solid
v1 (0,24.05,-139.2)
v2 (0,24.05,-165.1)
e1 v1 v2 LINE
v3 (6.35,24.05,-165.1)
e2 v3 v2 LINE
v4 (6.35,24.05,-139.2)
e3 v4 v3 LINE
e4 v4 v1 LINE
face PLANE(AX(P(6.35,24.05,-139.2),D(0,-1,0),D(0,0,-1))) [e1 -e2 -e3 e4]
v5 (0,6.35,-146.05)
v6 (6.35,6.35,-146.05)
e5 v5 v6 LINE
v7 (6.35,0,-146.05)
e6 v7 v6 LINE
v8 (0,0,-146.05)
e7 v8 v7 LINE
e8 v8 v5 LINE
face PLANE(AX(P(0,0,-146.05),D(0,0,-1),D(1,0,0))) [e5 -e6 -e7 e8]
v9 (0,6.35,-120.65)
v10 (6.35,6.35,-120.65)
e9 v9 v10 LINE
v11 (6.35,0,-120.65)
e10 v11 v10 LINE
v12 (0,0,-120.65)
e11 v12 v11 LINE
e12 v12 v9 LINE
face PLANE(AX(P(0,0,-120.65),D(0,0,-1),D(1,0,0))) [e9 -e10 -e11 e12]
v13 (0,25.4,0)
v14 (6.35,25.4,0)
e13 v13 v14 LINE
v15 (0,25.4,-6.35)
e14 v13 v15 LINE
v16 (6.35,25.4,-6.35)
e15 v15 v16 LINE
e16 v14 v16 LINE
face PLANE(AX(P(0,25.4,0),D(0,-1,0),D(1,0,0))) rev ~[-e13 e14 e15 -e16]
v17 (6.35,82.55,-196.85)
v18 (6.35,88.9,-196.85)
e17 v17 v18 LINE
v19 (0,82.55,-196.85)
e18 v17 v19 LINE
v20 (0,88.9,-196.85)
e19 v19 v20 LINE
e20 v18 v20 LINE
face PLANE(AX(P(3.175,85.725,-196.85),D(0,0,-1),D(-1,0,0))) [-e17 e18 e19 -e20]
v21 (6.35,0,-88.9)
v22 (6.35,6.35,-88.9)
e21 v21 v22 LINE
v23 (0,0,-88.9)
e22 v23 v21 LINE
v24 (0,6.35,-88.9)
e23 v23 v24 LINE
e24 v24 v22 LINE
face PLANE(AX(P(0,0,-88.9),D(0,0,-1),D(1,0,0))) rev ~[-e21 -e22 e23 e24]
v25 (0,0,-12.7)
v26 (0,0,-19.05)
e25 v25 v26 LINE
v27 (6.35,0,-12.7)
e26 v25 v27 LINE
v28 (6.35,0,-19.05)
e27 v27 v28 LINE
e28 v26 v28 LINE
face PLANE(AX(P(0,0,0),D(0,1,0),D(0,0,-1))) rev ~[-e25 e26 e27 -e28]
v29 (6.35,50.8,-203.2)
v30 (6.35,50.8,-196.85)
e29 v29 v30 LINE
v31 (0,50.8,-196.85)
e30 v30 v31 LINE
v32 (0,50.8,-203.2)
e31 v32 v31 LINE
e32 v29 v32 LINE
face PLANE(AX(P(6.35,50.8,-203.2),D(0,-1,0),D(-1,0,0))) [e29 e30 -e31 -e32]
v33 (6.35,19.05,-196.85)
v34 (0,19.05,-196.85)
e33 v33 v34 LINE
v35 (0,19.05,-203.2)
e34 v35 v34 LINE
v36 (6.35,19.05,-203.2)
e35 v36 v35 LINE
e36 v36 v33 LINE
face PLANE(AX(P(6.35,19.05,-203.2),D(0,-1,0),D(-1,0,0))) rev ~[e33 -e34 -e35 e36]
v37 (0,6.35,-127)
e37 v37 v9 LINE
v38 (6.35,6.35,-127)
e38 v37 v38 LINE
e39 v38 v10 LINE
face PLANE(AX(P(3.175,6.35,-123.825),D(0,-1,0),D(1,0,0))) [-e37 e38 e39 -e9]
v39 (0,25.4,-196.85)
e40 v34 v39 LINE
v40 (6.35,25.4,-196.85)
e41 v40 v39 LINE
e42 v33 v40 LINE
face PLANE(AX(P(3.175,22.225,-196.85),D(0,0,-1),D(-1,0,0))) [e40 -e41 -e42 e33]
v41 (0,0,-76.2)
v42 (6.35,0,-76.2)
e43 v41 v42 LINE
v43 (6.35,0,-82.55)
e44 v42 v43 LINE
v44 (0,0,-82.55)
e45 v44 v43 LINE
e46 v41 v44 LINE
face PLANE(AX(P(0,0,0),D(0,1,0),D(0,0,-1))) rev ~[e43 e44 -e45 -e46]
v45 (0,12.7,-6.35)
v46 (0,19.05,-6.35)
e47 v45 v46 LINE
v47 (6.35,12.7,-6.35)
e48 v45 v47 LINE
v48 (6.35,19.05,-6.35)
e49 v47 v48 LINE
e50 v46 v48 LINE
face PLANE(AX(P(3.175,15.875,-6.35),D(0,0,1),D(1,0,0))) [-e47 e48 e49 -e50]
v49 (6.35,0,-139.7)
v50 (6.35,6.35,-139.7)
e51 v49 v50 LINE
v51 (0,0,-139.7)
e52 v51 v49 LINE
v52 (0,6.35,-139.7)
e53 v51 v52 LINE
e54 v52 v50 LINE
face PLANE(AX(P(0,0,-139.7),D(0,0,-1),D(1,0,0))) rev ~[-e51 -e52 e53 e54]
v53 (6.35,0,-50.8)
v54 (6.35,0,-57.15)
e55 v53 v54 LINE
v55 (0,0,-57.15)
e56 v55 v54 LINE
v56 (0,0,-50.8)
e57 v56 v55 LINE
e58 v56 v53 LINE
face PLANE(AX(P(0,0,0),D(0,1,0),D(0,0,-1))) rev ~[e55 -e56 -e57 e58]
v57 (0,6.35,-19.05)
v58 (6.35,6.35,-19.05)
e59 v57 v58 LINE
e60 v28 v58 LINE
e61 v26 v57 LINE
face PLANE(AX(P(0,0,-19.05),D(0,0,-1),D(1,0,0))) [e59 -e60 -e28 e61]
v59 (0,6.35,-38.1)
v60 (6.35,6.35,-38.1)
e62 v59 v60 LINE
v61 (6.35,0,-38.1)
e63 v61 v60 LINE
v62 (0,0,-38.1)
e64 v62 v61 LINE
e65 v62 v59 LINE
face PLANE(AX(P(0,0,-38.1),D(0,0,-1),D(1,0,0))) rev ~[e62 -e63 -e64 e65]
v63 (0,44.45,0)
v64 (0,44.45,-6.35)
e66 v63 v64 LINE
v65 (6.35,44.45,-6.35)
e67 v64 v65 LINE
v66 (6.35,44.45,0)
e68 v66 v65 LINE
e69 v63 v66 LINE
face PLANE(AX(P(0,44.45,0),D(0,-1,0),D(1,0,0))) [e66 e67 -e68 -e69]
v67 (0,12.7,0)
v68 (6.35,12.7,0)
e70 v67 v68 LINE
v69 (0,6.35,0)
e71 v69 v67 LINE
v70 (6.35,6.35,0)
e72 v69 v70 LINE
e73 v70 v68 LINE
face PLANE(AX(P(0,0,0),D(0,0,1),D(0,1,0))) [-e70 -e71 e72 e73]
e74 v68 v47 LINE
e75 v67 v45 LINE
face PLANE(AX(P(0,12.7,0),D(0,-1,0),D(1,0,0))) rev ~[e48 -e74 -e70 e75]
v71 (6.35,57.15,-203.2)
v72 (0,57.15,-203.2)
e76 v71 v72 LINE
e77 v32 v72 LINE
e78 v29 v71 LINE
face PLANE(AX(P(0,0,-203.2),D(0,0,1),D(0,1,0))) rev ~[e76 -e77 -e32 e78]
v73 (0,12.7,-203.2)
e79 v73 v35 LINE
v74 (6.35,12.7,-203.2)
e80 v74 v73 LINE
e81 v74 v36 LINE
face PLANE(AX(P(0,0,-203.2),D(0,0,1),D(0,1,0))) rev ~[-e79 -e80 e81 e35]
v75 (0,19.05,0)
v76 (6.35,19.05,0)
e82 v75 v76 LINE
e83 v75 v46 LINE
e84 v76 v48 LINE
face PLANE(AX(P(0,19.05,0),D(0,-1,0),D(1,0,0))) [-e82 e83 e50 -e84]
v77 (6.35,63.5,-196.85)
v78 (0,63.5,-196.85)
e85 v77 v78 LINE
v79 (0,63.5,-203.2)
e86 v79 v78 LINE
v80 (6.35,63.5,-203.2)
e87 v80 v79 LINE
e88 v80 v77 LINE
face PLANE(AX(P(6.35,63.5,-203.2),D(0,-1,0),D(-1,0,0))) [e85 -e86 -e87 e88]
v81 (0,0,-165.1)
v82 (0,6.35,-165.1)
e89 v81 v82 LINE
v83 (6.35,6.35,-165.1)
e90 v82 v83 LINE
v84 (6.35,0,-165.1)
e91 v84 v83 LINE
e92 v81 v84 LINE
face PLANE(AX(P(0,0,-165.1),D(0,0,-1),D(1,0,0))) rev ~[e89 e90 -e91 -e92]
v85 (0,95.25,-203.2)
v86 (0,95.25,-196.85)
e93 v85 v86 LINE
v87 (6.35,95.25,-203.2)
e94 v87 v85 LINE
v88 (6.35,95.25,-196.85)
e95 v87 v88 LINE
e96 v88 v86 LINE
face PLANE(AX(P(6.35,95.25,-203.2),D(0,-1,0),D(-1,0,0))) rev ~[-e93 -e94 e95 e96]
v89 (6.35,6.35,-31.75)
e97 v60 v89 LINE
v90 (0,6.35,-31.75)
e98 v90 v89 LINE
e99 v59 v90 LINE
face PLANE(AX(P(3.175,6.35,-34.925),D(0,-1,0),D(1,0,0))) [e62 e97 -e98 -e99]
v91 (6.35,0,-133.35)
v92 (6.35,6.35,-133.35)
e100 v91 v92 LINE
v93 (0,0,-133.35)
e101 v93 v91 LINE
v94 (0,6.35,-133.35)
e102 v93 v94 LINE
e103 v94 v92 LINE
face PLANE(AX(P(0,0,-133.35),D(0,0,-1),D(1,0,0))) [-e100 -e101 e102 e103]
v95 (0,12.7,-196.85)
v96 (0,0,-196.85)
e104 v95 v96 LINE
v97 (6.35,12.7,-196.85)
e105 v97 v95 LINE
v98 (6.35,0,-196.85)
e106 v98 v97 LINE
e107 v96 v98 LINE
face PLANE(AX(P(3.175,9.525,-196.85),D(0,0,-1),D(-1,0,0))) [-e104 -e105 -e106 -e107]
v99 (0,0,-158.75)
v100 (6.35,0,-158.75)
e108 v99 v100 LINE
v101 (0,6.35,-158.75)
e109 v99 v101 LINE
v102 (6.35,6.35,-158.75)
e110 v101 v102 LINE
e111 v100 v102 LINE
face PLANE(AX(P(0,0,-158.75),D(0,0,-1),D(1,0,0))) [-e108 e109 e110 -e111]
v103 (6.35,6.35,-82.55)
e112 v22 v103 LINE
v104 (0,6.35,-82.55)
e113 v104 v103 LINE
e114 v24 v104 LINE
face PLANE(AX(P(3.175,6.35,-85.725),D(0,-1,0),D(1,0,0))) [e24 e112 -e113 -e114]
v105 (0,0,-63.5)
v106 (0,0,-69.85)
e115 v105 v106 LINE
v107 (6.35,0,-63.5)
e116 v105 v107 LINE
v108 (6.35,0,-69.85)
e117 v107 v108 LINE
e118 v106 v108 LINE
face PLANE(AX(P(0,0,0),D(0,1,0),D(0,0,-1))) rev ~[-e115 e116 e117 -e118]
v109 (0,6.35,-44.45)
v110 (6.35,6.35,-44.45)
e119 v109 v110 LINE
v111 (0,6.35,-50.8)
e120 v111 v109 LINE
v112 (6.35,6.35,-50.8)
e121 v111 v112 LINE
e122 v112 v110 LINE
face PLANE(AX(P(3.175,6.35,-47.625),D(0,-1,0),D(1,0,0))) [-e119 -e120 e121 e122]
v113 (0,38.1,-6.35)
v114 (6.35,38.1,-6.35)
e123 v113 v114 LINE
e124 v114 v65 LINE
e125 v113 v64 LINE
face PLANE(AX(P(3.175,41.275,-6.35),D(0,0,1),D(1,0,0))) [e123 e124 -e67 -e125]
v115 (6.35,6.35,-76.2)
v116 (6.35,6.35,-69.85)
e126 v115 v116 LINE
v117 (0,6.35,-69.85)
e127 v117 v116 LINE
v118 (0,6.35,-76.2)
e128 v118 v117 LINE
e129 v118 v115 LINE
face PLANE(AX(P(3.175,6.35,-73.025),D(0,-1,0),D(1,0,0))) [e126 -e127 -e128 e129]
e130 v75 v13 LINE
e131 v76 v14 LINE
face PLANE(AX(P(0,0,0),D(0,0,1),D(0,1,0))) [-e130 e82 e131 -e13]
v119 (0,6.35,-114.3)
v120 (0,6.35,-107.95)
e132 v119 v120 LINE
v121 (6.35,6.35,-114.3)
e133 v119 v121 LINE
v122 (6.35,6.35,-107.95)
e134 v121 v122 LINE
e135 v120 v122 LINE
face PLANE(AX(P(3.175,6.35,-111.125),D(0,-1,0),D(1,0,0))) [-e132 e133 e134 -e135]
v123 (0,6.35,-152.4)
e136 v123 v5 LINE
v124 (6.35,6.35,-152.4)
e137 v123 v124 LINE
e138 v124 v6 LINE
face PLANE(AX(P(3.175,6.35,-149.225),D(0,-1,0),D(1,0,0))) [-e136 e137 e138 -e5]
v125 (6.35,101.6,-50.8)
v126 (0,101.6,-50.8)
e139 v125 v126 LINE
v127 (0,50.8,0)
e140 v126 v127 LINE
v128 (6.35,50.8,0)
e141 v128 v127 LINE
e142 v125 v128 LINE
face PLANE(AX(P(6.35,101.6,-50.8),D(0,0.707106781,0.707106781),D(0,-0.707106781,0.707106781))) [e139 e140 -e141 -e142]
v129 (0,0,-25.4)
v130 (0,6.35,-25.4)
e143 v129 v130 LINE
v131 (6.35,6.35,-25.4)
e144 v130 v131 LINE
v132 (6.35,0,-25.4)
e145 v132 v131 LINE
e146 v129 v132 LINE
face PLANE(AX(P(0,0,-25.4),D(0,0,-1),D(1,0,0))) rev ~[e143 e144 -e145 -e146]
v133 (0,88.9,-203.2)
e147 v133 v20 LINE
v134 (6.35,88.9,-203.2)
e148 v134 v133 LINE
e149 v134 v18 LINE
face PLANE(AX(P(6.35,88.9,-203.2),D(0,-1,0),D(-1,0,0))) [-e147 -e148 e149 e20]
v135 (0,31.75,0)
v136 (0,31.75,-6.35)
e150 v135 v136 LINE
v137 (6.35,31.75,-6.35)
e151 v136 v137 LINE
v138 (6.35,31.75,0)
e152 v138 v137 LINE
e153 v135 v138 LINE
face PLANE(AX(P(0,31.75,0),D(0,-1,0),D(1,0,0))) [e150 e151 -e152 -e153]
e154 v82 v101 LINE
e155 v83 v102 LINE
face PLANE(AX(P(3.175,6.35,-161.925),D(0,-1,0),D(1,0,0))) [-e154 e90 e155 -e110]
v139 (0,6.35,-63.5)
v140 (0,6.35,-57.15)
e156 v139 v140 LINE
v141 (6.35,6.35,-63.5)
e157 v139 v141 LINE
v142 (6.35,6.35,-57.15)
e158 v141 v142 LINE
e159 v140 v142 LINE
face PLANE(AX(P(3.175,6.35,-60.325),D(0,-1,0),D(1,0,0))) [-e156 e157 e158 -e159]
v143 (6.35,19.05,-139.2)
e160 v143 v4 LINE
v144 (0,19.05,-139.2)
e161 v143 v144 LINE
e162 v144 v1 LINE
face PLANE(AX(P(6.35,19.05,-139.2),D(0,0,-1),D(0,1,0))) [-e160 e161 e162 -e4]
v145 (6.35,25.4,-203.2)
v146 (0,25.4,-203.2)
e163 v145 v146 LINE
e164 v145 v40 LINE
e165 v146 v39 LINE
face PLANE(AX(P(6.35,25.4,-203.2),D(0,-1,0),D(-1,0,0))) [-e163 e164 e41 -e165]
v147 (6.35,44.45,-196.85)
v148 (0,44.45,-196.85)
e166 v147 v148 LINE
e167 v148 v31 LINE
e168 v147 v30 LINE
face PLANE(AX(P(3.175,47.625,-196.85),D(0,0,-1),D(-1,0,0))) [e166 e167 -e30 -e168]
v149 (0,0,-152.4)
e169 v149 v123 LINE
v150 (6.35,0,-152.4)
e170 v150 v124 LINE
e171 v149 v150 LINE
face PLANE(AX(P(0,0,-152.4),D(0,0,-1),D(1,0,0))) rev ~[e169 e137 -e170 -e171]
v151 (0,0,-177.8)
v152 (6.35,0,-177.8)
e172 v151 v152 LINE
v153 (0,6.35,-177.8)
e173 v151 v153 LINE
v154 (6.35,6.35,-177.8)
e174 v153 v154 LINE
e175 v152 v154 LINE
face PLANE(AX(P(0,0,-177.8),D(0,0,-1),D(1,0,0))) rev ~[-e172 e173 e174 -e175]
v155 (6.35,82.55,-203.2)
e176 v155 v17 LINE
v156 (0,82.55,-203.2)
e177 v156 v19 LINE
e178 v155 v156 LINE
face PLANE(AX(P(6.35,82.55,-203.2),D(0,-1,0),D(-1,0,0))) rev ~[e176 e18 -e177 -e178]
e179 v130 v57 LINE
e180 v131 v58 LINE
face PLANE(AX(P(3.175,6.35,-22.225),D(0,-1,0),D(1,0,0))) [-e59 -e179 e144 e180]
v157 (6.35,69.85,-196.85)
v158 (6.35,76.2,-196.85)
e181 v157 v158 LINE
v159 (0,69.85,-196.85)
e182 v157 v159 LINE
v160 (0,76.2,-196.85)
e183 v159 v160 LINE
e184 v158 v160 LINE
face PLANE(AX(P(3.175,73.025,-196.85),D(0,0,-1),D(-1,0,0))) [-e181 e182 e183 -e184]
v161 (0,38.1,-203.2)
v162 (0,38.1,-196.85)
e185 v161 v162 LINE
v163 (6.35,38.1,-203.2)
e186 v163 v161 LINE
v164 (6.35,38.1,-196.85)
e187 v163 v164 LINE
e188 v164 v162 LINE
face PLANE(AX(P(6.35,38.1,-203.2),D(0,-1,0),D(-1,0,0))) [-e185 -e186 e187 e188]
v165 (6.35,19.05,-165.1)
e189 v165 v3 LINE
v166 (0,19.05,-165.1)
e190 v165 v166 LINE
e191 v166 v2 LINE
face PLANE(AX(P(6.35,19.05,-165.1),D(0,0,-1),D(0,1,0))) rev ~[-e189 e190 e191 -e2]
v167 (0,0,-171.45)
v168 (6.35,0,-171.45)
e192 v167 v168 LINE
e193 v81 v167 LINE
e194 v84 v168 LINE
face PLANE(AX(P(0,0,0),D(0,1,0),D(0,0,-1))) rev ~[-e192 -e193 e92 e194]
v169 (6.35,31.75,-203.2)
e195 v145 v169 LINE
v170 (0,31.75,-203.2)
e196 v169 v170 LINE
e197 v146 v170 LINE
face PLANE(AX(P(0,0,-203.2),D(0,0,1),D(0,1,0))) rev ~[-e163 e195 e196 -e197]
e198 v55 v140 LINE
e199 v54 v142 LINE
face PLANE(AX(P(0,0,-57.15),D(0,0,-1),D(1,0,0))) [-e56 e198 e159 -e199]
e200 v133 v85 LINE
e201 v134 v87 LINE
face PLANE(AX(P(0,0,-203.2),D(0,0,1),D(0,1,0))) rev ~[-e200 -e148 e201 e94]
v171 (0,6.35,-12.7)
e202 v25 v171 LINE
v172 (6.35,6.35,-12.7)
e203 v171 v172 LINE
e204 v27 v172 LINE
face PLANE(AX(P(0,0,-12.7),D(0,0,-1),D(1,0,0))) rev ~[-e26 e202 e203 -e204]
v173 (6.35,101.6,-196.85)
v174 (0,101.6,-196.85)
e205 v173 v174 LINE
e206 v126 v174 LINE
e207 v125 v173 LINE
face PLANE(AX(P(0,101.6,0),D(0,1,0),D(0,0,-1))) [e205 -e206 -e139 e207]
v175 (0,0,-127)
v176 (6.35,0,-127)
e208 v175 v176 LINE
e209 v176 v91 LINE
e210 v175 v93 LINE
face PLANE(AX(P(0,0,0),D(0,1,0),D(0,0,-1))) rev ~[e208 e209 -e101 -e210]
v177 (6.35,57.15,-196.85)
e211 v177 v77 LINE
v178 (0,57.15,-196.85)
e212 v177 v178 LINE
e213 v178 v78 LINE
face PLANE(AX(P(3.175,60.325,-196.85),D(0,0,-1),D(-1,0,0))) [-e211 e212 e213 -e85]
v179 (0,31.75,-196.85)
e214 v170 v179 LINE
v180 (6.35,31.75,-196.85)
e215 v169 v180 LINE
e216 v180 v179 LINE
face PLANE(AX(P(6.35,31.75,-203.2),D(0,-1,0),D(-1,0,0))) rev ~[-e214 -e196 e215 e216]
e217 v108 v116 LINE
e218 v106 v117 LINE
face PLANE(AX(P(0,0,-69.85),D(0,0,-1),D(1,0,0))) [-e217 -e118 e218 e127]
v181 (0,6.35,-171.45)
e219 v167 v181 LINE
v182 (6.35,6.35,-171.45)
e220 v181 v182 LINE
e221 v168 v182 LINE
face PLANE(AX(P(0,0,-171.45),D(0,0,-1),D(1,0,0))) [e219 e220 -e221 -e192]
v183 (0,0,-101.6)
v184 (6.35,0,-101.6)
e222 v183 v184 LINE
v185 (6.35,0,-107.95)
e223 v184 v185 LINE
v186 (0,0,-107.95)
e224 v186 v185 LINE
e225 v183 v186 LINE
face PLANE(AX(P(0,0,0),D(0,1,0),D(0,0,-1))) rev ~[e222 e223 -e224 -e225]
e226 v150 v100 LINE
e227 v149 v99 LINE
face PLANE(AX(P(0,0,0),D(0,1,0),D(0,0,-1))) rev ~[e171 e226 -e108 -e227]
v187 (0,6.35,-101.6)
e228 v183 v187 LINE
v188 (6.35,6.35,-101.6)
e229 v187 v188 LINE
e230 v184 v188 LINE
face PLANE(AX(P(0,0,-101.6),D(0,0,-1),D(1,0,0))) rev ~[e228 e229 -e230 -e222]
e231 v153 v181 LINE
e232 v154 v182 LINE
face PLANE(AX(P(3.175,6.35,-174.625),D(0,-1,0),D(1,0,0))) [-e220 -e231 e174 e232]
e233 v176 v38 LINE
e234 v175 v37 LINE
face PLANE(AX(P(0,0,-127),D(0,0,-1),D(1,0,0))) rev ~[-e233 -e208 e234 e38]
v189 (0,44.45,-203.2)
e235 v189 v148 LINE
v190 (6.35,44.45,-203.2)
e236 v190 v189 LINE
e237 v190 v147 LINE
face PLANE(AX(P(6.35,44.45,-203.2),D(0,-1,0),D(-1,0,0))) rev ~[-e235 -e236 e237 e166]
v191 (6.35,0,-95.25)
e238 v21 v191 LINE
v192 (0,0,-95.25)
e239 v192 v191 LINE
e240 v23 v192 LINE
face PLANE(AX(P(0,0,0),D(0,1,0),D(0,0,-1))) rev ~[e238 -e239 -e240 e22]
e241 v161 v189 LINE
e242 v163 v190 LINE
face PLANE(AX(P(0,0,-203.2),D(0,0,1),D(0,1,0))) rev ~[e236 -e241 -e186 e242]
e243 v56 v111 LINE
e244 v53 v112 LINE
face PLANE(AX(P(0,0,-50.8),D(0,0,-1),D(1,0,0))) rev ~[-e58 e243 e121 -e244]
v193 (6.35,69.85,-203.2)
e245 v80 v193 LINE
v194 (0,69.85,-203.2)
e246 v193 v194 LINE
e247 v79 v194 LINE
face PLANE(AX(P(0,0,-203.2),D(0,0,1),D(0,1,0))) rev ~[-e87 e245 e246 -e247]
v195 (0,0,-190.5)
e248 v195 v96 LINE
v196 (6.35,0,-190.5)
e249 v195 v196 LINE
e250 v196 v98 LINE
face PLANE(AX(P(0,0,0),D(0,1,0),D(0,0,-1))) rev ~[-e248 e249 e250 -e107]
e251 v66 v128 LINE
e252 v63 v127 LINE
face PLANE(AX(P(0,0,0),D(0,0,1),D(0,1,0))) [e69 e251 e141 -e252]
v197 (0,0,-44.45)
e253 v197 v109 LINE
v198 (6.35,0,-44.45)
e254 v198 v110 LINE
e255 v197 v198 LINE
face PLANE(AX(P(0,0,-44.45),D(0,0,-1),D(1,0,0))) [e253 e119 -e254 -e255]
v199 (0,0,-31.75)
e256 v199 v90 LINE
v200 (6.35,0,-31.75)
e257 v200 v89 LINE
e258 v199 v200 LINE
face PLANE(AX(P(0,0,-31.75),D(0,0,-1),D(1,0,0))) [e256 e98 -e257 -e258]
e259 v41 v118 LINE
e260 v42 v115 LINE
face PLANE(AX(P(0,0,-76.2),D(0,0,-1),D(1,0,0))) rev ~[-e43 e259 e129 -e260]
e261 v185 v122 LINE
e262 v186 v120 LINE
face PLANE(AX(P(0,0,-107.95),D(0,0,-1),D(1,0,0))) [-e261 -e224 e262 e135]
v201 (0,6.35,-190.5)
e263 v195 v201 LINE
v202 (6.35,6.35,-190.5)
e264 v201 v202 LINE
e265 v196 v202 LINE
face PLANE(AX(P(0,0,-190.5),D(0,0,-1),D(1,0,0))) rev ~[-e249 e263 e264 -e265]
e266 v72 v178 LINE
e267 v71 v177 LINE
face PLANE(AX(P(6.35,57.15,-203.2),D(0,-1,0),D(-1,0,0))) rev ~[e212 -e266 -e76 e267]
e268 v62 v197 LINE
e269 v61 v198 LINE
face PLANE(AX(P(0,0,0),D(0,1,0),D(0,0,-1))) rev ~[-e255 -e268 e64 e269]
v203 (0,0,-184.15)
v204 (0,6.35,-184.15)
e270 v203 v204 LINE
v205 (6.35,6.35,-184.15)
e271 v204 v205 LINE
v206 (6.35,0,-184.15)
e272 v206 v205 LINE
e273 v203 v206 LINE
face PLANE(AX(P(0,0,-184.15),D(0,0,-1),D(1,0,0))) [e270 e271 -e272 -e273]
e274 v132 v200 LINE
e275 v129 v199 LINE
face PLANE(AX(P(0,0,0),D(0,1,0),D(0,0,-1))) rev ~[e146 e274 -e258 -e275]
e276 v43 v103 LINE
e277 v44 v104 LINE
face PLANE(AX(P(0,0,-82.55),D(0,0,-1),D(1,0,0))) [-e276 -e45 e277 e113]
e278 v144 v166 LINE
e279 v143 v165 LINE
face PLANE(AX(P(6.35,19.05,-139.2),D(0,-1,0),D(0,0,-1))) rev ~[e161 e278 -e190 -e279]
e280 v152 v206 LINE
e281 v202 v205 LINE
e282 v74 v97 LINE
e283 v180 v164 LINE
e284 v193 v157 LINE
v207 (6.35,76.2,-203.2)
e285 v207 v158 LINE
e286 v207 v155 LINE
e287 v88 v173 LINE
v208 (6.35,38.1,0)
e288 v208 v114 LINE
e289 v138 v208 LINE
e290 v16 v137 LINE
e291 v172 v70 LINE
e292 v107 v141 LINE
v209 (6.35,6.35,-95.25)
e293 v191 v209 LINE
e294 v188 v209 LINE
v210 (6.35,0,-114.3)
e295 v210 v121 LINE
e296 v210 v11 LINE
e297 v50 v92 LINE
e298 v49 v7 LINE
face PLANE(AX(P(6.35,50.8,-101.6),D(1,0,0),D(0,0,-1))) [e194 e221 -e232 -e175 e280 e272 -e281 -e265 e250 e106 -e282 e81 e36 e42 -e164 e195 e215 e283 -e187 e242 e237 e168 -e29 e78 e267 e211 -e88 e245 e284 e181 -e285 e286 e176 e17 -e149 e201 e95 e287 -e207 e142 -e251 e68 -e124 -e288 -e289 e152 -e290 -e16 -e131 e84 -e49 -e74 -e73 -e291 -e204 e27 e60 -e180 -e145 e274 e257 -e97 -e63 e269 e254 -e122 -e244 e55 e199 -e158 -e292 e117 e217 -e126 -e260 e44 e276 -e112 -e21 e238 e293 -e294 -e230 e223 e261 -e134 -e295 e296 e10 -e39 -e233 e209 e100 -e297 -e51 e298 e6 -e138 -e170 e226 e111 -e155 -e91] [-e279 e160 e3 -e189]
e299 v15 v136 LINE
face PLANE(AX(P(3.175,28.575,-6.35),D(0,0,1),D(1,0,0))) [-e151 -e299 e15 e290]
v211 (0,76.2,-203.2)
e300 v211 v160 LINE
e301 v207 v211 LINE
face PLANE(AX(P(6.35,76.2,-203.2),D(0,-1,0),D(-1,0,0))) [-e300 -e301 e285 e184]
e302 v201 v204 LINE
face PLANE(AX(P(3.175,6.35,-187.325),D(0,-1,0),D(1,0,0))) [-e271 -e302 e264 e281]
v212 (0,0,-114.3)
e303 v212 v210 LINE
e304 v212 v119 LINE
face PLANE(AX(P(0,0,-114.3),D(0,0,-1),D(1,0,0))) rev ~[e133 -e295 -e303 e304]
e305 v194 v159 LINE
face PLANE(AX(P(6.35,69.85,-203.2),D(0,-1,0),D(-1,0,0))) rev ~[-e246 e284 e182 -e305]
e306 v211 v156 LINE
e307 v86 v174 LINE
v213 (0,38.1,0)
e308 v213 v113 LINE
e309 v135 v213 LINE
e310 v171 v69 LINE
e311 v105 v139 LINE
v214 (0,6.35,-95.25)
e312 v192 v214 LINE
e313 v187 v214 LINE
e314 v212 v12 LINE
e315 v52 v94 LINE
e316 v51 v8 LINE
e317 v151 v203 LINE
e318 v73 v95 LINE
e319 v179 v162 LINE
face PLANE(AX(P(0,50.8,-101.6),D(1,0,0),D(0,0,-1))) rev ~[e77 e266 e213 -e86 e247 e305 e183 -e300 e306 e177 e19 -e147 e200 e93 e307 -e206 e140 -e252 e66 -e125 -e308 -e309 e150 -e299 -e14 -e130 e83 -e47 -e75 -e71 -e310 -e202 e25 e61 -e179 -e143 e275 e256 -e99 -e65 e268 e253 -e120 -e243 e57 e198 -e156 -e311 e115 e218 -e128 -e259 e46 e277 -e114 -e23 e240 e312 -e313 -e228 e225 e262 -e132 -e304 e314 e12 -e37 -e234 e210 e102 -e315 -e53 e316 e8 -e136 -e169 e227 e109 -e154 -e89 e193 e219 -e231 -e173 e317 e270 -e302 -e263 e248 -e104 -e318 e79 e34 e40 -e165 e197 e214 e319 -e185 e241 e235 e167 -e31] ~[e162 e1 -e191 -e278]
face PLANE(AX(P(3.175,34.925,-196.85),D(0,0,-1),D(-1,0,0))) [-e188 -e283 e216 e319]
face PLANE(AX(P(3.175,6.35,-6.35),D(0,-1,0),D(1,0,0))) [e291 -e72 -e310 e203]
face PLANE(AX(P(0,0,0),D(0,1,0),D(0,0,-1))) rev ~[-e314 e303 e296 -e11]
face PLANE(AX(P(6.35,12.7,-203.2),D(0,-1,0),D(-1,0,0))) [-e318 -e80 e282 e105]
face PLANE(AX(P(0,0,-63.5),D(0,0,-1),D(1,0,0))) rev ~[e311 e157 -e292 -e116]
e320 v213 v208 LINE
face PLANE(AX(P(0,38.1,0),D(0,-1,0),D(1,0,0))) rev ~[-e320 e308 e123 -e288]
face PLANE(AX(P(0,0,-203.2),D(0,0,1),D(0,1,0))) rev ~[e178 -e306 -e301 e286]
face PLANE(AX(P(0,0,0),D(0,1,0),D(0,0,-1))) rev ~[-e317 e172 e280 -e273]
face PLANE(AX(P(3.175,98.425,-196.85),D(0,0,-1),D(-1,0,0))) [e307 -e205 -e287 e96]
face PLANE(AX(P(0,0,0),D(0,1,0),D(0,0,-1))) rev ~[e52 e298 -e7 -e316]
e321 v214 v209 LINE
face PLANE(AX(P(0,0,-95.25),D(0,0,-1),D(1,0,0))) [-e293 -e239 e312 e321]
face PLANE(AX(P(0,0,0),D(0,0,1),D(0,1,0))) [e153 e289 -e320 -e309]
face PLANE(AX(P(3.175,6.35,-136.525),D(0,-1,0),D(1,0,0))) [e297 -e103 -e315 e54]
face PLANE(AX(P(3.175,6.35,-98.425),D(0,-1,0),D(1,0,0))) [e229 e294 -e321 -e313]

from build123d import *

# Parameters (mm, degrees)
SKETCH1_W           = 203.2
SKETCH1_H           = 101.6
BOSS_EXTRUDE1_DEPTH = 6.35
SKETCH2_W           = 6.35
SKETCH2_H           = 12.7
CUT_EXTRUDE1_DEPTH  = 6.35
SKETCH5_W           = 6.35
SKETCH5_H           = 6.35
CUT_EXTRUDE3_DEPTH  = 6.35
LPATTERN1_COUNT     = 15
LPATTERN1_PITCH     = 12.7
SKETCH6_W           = 6.35
SKETCH6_H           = 6.35
CUT_EXTRUDE4_DEPTH  = 6.35
SKETCH7_W           = 6.35
SKETCH7_H           = 6.35
CUT_EXTRUDE5_DEPTH  = 6.35
LPATTERN2_COUNT     = 7
LPATTERN2_PITCH     = 12.7
CUT_EXTRUDE6_DEPTH  = 6.35
SKETCH9_W           = 6.35
SKETCH9_H           = 6.35
CUT_EXTRUDE7_DEPTH  = 6.35
LPATTERN3_COUNT     = 3
LPATTERN3_PITCH     = 12.7
SKETCH10_W          = 25.9
SKETCH10_H          = 5
CUT_EXTRUDE8_DEPTH  = 6.35


with BuildPart() as part:
    # Sketch1 → Boss-Extrude1 (new body)
    with BuildSketch(Plane(origin=(0, 0, 0), x_dir=(0, 0, -1), z_dir=(1, 0, 0))):
        with Locations((101.6, 50.8)):
            Rectangle(SKETCH1_W, SKETCH1_H)
    extrude(amount=BOSS_EXTRUDE1_DEPTH)

    # Sketch2 → Cut-Extrude1 (cut)
    with BuildSketch(Plane.XZ):
        with Locations((3.175, -6.35)):
            Rectangle(SKETCH2_W, SKETCH2_H)
    extrude(amount=-CUT_EXTRUDE1_DEPTH, mode=Mode.SUBTRACT)

    # Sketch5 → Cut-Extrude3 (cut)
    with BuildSketch(Plane.XZ):
        with Locations((3.175, -22.225)):
            Rectangle(SKETCH5_W, SKETCH5_H)
    cut_extrude3 = extrude(amount=-CUT_EXTRUDE3_DEPTH, mode=Mode.SUBTRACT)

    # LPattern1: Cut-Extrude3 ×15
    with Locations(*[(0, 0, -i * LPATTERN1_PITCH) for i in range(1, LPATTERN1_COUNT)]):
        add(cut_extrude3, mode=Mode.SUBTRACT)

    # Sketch6 → Cut-Extrude4 (cut)
    with BuildSketch(Plane(origin=(0, 0, -203.2), x_dir=(-1, 0, 0), z_dir=(0, 0, -1))):
        with Locations((-3.175, 9.525)):
            Rectangle(SKETCH6_W, SKETCH6_H)
    extrude(amount=-CUT_EXTRUDE4_DEPTH, mode=Mode.SUBTRACT)

    # Sketch7 → Cut-Extrude5 (cut)
    with BuildSketch(Plane(origin=(0, 0, -203.2), x_dir=(-1, 0, 0), z_dir=(0, 0, -1))):
        with Locations((-3.175, 22.225)):
            Rectangle(SKETCH7_W, SKETCH7_H)
    cut_extrude5 = extrude(amount=-CUT_EXTRUDE5_DEPTH, mode=Mode.SUBTRACT)

    # LPattern2: Cut-Extrude5 ×7
    with Locations(*[(0, i * LPATTERN2_PITCH, 0) for i in range(1, LPATTERN2_COUNT)]):
        add(cut_extrude5, mode=Mode.SUBTRACT)

    # Sketch8 → Cut-Extrude6 (cut)
    with BuildSketch(Plane(origin=(6.35, 0, 0), x_dir=(0, 0, -1), z_dir=(1, 0, 0))):
        Polygon((0, 101.6), (50.8, 101.6), (0, 50.8), align=None)
    extrude(amount=-CUT_EXTRUDE6_DEPTH, mode=Mode.SUBTRACT)

    # Sketch9 → Cut-Extrude7 (cut)
    with BuildSketch(Plane.XY):
        with Locations((3.175, 15.875)):
            Rectangle(SKETCH9_W, SKETCH9_H)
    cut_extrude7 = extrude(amount=-CUT_EXTRUDE7_DEPTH, mode=Mode.SUBTRACT)

    # LPattern3: Cut-Extrude7 ×3
    with Locations(*[(0, i * LPATTERN3_PITCH, 0) for i in range(1, LPATTERN3_COUNT)]):
        add(cut_extrude7, mode=Mode.SUBTRACT)

    # Sketch10 → Cut-Extrude8 (cut)
    with BuildSketch(Plane(origin=(6.35, 0, 0), x_dir=(0, 0, -1), z_dir=(1, 0, 0))):
        with Locations((152.15, 21.55)):
            Rectangle(SKETCH10_W, SKETCH10_H)
    extrude(amount=-CUT_EXTRUDE8_DEPTH, mode=Mode.SUBTRACT)


solid = part.part
